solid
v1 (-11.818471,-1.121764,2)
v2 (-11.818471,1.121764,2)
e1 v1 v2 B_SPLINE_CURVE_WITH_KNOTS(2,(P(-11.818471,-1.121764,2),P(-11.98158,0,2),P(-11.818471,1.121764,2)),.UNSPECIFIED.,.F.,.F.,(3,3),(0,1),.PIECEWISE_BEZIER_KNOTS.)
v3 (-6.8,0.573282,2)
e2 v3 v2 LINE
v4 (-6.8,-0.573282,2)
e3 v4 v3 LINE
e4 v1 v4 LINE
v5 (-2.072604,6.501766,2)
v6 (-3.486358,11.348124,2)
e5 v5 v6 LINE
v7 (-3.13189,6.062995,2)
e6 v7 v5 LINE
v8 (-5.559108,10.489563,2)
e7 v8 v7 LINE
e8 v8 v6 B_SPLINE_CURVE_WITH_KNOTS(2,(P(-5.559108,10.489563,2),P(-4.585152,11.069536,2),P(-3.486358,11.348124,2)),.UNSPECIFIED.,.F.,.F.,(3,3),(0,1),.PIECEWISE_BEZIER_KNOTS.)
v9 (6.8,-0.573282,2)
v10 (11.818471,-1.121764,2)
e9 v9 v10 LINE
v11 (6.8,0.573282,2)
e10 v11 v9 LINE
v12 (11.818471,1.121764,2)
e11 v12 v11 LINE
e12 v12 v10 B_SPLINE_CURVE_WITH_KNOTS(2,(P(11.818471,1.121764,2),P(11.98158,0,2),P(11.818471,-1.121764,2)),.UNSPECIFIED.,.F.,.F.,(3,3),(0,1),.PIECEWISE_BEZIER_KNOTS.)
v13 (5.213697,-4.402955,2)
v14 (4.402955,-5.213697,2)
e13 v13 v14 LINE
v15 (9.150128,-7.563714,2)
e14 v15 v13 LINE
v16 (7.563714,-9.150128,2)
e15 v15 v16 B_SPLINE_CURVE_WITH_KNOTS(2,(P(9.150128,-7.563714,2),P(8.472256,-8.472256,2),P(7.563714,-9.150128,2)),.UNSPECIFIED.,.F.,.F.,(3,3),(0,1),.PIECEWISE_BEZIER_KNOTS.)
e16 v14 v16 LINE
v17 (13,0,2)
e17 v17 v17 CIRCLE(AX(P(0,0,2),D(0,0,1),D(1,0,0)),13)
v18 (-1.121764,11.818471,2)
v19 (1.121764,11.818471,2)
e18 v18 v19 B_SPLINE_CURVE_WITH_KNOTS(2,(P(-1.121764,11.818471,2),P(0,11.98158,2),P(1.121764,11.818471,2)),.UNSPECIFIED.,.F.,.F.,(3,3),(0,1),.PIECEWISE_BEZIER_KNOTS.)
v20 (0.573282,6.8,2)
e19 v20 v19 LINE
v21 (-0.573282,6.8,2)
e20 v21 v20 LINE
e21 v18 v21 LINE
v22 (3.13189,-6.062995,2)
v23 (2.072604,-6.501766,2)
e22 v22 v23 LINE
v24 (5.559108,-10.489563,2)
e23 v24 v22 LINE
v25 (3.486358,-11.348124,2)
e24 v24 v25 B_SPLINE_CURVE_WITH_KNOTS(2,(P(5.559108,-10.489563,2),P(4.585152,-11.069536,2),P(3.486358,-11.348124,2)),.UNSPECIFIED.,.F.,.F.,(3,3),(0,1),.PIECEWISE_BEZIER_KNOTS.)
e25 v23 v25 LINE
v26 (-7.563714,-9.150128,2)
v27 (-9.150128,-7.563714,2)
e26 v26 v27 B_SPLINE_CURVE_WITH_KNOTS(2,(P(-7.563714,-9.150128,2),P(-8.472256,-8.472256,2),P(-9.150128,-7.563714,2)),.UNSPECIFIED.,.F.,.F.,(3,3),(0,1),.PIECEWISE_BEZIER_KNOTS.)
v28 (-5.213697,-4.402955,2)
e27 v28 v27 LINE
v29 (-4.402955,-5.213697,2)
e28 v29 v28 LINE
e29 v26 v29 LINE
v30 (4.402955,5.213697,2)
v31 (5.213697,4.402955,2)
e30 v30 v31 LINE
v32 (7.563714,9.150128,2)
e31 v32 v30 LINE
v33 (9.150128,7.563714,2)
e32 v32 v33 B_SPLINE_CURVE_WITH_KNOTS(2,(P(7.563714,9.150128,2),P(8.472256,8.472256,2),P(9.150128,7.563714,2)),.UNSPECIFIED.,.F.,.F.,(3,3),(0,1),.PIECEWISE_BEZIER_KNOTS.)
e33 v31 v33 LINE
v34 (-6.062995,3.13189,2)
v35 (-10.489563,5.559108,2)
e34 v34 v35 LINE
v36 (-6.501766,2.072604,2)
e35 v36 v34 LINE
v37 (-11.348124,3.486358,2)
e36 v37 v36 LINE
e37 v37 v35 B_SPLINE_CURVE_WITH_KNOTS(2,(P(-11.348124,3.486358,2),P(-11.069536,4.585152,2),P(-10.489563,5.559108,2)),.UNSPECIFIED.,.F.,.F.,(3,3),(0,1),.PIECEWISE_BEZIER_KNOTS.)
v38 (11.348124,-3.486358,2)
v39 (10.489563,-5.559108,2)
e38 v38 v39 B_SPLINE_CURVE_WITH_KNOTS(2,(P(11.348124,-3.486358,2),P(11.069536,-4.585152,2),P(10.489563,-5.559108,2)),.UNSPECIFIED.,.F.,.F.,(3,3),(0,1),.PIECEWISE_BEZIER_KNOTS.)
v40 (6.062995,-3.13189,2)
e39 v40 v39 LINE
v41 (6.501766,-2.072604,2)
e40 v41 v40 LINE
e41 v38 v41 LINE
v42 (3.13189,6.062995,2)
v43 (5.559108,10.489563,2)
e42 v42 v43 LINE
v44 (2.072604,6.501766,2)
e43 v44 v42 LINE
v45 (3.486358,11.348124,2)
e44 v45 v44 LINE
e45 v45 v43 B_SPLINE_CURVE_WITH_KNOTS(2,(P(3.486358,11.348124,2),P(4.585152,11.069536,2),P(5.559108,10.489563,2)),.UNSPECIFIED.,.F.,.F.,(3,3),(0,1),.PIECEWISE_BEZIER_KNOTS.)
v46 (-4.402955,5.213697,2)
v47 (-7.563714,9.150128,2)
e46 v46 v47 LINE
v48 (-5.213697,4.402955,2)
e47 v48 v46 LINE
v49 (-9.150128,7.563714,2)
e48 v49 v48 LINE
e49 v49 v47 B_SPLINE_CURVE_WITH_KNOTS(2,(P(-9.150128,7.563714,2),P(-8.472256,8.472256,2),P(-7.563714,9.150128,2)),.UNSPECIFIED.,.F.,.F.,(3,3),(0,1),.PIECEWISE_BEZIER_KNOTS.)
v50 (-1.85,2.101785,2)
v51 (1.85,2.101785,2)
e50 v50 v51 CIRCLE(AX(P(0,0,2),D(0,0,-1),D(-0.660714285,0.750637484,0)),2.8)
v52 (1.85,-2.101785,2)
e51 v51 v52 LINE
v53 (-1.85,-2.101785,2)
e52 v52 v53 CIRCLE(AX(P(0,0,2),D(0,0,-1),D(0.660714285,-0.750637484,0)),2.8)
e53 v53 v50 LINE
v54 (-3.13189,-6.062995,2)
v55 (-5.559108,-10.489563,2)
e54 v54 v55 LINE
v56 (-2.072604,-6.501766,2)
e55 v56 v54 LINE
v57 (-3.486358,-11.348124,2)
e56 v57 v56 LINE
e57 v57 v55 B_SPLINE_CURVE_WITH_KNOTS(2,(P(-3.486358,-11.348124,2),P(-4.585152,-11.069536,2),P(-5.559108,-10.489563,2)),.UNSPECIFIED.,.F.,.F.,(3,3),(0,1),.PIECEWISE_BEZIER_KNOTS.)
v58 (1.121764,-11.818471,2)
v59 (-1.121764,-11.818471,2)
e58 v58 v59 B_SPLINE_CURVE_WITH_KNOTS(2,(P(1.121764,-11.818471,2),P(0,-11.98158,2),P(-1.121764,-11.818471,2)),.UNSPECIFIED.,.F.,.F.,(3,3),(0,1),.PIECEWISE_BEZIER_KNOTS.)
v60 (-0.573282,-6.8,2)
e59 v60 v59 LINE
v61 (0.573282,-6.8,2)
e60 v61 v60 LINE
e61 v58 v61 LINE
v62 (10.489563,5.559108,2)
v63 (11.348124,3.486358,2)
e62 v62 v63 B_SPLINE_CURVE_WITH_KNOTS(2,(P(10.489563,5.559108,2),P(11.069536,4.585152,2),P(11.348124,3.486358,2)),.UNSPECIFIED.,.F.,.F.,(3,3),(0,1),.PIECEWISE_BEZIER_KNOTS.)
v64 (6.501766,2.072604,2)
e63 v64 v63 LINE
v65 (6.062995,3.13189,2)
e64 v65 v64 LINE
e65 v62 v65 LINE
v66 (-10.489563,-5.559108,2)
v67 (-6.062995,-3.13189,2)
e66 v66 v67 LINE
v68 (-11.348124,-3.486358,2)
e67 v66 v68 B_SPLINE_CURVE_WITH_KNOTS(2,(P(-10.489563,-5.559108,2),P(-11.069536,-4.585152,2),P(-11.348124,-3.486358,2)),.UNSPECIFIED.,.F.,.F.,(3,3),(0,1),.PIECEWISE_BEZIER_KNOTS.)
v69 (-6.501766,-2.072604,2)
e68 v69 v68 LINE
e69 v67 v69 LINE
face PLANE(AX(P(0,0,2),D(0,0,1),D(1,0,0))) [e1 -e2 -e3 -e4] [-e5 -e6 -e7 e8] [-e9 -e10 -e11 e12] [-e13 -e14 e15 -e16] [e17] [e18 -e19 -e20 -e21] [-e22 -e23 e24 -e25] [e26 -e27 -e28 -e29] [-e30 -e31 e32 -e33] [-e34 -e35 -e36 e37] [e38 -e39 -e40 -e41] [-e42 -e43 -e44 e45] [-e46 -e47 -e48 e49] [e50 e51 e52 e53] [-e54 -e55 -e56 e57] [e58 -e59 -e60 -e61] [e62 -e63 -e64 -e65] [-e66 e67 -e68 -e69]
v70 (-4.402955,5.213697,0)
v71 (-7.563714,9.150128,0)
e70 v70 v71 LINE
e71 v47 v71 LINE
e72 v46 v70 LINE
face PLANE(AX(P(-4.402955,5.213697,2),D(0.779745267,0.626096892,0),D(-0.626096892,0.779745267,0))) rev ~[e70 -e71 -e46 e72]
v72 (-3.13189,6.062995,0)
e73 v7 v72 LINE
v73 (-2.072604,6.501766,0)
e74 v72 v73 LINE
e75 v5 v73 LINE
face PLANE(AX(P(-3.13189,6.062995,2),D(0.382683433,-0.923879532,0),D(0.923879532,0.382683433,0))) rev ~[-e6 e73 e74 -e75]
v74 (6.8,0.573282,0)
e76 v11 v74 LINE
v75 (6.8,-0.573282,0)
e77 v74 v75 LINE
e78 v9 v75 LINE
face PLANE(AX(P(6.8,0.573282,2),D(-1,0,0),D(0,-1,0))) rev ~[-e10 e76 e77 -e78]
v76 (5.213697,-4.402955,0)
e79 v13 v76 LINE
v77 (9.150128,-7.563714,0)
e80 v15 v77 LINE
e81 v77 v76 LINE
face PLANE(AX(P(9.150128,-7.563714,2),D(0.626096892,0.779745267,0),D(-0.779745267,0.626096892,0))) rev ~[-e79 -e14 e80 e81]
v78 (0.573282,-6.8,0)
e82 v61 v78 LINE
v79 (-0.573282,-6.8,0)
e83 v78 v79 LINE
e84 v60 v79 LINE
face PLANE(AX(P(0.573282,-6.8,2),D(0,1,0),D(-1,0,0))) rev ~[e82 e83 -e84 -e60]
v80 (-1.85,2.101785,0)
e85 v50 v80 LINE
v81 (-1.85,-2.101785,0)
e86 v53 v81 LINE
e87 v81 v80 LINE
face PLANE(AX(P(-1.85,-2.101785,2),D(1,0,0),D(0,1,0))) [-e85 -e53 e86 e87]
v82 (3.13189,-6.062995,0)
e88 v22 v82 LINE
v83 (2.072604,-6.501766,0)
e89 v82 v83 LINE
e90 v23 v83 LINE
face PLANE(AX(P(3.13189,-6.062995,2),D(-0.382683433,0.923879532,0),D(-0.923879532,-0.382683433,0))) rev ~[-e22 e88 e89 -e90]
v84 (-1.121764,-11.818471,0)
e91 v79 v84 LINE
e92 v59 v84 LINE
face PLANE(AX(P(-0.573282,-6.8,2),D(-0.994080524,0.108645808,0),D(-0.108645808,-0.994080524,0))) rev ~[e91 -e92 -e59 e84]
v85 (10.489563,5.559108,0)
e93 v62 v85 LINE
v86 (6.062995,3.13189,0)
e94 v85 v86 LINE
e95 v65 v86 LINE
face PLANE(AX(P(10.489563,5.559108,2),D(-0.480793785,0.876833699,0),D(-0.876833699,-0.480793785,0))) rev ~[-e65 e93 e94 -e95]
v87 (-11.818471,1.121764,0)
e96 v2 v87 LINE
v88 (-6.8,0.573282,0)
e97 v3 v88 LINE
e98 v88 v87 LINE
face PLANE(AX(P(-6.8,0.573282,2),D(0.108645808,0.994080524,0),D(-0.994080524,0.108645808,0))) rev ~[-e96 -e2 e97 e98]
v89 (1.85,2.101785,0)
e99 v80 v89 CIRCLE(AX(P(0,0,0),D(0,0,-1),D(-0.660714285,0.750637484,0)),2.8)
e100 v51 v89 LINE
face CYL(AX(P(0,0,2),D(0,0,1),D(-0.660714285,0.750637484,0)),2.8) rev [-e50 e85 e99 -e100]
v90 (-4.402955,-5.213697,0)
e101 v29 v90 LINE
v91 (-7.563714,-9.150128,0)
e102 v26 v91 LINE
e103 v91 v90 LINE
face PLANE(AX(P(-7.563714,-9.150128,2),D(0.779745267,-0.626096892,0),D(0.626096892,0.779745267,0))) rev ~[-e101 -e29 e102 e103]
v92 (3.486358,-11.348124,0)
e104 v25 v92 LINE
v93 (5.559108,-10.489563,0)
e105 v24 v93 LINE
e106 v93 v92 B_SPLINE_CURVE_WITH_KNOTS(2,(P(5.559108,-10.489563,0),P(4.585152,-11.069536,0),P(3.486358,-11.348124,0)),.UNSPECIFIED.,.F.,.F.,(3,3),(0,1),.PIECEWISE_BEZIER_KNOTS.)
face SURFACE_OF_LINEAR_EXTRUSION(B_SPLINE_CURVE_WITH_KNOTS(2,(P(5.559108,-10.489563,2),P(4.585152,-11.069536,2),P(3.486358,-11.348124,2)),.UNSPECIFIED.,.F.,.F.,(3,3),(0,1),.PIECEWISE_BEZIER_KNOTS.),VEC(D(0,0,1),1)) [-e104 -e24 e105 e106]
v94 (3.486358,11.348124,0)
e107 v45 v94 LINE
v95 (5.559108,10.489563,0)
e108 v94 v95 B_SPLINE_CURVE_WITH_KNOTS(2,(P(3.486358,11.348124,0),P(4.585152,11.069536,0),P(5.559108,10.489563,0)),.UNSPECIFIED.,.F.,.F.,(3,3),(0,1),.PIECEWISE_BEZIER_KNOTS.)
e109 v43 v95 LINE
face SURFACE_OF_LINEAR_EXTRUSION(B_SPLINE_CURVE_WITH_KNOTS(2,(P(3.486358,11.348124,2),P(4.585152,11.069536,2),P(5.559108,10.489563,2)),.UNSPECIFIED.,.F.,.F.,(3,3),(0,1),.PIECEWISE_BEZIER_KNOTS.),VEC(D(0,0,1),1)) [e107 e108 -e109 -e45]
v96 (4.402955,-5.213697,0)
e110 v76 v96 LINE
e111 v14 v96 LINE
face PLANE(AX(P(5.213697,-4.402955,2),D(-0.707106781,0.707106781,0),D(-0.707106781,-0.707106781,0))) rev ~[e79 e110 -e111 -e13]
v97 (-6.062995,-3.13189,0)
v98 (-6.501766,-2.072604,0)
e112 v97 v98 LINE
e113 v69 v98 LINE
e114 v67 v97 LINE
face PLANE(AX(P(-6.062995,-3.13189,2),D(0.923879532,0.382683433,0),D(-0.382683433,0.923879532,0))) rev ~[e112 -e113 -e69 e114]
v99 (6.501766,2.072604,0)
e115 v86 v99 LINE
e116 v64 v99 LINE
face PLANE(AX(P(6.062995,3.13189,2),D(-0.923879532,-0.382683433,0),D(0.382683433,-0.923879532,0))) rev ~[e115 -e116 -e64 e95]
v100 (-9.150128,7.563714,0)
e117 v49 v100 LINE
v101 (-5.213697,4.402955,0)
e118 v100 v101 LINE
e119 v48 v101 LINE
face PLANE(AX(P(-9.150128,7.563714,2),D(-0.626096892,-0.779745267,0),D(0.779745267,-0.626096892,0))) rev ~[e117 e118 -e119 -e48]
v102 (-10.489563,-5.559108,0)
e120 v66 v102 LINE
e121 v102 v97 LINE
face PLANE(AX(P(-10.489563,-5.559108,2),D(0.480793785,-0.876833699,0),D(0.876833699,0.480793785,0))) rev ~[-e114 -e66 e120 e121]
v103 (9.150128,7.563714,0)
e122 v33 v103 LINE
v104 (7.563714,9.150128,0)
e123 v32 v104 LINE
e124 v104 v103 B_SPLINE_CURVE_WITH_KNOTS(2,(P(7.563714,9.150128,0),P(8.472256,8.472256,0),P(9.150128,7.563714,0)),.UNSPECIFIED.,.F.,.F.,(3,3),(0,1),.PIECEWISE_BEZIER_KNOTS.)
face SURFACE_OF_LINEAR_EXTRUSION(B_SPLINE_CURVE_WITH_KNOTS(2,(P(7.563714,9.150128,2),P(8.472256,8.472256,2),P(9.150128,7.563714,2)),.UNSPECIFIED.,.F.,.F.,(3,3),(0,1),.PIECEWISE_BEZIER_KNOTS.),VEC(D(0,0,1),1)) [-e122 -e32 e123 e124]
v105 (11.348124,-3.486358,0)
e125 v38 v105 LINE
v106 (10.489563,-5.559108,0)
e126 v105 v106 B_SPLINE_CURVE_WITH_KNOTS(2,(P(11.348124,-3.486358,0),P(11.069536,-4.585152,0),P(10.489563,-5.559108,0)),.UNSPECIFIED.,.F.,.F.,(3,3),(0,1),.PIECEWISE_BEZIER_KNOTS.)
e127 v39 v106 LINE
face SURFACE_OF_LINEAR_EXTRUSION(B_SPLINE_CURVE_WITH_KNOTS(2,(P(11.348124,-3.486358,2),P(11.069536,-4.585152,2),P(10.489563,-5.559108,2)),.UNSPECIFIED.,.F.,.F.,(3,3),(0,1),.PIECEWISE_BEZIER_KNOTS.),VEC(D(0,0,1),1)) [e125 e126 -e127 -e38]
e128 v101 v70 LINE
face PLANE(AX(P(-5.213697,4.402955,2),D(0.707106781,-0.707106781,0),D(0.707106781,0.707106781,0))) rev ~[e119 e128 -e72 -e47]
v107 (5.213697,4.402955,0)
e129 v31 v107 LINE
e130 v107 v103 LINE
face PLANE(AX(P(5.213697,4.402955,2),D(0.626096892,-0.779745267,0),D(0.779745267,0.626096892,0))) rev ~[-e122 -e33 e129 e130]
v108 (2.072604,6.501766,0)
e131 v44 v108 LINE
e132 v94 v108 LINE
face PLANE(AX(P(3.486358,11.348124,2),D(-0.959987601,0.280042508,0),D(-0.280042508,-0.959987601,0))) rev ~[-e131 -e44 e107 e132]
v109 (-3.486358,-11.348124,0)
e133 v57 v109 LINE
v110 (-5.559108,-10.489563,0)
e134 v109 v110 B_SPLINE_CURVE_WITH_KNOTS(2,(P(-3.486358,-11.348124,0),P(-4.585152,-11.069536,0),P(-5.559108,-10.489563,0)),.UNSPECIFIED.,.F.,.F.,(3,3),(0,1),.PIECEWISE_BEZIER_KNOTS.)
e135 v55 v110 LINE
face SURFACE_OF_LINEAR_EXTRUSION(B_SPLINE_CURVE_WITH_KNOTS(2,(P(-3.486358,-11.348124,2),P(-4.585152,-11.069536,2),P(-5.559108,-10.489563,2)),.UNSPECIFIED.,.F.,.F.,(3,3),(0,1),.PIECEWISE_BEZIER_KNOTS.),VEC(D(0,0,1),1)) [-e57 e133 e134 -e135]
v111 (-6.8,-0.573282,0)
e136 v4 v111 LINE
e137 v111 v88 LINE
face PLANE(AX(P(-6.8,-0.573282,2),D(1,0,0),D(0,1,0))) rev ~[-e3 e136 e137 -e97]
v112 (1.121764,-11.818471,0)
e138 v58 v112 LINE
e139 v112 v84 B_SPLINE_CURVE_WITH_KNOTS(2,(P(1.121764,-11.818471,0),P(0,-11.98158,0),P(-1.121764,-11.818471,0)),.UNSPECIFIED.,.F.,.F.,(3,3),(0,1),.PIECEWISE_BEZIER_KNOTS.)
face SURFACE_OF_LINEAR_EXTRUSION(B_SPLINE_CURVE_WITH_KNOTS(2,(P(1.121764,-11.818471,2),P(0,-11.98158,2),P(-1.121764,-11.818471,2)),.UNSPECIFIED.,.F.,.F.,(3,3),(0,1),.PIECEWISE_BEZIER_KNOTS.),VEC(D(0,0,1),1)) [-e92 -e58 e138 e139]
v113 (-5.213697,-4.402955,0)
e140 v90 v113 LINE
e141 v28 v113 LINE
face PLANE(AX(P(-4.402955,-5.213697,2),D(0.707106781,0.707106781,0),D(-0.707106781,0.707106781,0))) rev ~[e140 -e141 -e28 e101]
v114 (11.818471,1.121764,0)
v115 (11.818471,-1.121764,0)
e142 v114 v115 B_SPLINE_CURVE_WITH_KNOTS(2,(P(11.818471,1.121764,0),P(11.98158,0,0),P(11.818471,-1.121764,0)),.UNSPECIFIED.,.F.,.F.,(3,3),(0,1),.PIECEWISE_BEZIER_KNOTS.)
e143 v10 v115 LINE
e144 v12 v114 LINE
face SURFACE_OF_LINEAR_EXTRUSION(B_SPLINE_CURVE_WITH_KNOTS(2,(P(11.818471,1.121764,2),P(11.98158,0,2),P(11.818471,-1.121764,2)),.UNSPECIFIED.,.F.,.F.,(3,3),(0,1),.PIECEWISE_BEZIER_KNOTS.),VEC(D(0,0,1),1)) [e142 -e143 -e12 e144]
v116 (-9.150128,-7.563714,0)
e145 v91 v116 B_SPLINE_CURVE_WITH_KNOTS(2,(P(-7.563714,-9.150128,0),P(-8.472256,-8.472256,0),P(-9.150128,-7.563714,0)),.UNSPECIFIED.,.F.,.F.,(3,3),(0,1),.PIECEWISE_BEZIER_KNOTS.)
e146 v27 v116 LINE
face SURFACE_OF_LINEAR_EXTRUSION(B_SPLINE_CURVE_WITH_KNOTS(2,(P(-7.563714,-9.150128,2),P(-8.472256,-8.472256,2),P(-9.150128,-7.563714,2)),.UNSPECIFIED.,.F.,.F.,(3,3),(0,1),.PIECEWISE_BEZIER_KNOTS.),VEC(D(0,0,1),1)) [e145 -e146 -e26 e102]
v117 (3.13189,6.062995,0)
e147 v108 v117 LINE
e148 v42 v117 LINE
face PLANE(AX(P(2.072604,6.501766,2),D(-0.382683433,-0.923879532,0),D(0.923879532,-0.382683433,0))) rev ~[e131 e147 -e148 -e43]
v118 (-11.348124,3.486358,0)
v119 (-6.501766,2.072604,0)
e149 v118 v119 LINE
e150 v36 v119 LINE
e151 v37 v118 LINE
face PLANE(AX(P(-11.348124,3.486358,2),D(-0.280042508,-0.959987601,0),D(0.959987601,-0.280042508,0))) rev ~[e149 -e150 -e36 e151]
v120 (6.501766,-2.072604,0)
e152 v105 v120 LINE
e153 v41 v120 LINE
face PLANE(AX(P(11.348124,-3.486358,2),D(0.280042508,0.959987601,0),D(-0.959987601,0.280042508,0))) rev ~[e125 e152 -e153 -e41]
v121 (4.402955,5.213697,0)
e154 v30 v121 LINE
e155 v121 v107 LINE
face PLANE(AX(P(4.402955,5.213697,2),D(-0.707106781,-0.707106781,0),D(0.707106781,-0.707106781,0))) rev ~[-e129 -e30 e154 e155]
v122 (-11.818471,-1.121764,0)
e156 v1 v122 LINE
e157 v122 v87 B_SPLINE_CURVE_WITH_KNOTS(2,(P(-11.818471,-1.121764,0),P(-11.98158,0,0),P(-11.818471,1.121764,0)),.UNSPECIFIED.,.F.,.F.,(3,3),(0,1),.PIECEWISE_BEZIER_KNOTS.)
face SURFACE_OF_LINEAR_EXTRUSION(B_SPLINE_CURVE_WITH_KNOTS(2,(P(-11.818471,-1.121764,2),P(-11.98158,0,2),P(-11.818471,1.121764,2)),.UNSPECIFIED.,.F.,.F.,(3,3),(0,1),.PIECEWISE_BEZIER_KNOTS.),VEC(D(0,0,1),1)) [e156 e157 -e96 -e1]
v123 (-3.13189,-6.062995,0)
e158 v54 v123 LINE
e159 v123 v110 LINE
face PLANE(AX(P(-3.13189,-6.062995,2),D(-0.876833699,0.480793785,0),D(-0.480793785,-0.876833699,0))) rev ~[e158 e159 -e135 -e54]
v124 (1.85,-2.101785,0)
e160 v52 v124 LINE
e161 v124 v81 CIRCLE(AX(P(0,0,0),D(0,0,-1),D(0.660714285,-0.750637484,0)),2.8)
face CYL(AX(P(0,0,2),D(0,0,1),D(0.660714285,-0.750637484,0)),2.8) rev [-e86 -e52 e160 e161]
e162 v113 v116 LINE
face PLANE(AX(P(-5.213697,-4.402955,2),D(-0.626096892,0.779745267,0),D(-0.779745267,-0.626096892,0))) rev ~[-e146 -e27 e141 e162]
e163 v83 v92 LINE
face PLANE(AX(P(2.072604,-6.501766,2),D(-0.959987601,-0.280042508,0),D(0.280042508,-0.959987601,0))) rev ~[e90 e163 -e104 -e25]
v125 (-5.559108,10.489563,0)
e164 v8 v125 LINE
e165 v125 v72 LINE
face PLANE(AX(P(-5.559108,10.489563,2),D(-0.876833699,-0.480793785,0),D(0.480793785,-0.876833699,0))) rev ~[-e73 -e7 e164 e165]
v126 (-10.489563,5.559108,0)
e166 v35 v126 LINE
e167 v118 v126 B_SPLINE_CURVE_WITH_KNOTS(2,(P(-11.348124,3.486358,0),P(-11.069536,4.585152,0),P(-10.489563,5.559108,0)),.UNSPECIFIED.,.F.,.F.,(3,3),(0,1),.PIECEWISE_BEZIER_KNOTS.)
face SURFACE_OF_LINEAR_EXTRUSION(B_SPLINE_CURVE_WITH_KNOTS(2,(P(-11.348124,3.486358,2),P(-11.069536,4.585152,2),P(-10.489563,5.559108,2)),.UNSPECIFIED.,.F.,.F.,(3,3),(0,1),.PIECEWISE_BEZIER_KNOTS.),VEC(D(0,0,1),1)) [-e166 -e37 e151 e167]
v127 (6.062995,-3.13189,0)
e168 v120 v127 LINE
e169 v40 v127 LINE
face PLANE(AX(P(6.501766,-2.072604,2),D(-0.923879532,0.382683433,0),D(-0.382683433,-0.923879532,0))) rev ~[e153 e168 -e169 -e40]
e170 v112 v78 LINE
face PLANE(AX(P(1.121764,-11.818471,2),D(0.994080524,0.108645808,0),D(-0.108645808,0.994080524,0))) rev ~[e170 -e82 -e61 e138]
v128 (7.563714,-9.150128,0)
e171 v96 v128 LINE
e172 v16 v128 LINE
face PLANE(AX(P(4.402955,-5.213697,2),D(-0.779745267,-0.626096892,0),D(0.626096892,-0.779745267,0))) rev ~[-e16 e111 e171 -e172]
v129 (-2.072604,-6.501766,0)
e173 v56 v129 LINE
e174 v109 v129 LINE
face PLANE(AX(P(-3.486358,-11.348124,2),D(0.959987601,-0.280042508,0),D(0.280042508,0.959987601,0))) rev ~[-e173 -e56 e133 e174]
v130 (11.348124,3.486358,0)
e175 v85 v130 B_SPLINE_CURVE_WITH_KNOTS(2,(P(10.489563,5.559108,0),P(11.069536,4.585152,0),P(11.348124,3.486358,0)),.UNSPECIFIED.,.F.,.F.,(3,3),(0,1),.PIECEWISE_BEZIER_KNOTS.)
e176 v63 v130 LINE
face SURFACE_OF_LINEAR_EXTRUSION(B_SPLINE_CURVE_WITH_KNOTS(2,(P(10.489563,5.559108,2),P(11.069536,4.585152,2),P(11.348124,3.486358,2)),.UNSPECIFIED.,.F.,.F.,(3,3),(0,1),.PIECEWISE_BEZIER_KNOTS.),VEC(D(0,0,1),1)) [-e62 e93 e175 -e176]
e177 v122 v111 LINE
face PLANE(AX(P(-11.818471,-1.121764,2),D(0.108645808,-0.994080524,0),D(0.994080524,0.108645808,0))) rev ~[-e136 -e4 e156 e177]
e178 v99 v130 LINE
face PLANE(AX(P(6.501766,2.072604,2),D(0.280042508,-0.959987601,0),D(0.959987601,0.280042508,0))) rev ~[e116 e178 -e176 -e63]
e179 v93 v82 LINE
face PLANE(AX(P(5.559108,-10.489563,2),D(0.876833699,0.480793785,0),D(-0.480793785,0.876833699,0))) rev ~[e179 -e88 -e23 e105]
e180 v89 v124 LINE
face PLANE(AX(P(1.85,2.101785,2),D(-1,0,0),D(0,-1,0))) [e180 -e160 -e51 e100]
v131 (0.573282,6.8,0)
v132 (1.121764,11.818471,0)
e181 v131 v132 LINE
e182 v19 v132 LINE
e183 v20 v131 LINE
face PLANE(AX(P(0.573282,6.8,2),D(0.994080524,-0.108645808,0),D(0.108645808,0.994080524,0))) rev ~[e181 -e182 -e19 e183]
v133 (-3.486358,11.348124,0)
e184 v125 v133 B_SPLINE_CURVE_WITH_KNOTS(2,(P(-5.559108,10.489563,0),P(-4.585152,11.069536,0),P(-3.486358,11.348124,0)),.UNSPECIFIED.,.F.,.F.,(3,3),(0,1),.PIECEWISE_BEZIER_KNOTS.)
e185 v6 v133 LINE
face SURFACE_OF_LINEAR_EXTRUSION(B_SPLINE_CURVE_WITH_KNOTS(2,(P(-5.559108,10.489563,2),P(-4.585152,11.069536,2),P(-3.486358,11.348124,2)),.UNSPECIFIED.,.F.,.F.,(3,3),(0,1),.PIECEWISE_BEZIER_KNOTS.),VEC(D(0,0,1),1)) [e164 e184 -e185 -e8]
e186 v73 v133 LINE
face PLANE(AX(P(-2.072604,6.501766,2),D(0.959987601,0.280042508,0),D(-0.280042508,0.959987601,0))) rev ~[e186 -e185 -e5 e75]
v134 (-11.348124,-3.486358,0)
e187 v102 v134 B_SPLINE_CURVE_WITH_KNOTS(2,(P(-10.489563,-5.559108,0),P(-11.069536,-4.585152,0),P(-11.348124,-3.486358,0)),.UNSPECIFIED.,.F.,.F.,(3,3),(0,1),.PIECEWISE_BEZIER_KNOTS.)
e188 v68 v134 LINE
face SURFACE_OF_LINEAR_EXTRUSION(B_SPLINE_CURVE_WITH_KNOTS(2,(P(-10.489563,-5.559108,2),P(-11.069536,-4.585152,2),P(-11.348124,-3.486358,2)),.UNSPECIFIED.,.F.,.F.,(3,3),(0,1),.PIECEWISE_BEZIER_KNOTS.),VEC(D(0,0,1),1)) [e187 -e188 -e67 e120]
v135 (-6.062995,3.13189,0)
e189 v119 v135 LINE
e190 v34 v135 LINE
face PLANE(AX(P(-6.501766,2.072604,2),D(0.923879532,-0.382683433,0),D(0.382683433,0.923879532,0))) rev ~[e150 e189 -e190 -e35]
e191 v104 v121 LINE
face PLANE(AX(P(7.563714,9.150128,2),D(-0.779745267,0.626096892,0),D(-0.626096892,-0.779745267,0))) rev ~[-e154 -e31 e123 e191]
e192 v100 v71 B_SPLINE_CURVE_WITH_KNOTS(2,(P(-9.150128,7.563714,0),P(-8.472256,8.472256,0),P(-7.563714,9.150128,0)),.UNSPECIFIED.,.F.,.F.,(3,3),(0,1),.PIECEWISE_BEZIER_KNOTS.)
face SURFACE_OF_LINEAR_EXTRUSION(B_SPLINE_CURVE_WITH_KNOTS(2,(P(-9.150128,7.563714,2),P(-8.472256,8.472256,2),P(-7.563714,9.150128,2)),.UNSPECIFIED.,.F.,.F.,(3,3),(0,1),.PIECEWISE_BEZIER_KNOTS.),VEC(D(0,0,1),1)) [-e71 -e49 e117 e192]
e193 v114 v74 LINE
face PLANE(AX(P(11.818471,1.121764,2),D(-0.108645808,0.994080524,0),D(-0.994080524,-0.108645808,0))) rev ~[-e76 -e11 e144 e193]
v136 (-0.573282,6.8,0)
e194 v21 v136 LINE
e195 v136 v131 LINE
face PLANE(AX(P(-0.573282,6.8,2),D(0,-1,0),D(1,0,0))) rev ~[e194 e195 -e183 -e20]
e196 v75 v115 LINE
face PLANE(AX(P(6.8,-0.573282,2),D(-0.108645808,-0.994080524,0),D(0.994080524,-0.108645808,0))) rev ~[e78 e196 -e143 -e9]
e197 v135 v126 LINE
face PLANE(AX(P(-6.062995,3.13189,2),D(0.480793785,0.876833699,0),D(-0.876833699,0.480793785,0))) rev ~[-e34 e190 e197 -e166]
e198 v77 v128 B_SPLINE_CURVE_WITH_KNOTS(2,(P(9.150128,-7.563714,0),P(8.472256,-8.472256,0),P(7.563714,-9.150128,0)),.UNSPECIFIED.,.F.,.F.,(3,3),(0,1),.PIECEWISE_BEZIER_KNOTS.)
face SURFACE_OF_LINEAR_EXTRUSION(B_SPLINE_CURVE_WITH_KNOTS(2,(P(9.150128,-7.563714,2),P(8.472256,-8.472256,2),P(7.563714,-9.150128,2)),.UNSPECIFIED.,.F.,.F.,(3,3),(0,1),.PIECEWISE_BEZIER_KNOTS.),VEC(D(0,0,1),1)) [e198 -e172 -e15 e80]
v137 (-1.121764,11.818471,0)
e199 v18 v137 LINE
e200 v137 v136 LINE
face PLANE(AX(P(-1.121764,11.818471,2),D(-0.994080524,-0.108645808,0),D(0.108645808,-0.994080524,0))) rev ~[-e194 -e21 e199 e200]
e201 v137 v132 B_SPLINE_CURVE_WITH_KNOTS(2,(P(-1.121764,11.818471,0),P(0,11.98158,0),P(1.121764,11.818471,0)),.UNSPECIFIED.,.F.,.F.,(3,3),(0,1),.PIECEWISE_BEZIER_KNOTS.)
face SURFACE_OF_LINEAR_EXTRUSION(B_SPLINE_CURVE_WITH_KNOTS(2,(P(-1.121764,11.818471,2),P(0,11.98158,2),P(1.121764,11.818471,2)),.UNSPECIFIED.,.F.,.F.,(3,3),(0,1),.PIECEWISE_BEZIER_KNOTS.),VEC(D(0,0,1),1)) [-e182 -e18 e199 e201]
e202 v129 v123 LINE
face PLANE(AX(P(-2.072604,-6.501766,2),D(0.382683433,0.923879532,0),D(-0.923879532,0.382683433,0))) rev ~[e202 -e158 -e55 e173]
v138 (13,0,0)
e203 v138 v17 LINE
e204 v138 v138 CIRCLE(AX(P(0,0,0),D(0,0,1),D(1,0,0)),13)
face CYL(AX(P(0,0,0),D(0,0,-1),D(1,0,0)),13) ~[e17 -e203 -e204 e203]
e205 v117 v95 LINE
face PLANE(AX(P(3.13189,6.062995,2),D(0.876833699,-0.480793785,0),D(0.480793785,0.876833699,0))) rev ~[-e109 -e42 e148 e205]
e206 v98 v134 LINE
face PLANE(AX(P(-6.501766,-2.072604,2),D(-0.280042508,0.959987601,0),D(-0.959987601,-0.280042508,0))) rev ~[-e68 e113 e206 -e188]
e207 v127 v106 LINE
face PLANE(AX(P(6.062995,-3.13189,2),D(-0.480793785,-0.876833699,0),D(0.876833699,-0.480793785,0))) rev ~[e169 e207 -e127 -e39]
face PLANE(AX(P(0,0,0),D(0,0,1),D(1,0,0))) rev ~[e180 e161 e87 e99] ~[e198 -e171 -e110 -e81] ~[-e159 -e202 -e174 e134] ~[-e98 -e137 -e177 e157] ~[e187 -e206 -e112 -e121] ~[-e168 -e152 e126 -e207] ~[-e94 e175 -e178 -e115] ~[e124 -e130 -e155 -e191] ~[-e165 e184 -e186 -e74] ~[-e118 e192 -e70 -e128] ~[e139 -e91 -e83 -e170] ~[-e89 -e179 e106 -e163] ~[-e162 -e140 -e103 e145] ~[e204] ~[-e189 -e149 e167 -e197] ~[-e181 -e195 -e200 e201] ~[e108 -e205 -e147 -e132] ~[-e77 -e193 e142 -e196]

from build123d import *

# Parameters (mm, degrees)
SKETCH1_R           = 13
BOSS_EXTRUDE1_DEPTH = 2
CUT_EXTRUDE1_DEPTH  = 2
CUT_EXTRUDE2_DEPTH  = 2


with BuildPart() as part:
    # Sketch1 → Boss-Extrude1 (new body)
    with BuildSketch(Plane.XY):
        Circle(SKETCH1_R)
    extrude(amount=BOSS_EXTRUDE1_DEPTH)

    # Sketch2 → Cut-Extrude1 (cut)
    with BuildSketch(Plane.XY.offset(2)):
        with BuildLine():
            Line((1.85, 2.101784956), (1.85, -2.101784956))
            ThreePointArc((1.85, -2.101784956), (0, -2.8), (-1.85, -2.101784956))
            Line((-1.85, -2.101784956), (-1.85, 2.101784956))
            ThreePointArc((-1.85, 2.101784956), (0, 2.8), (1.85, 2.101784956))
        make_face()
    extrude(amount=-CUT_EXTRUDE1_DEPTH, mode=Mode.SUBTRACT)

    # Sketch3 → Cut-Extrude2 (cut)
    with BuildSketch(Plane.XY.offset(2)):
        with BuildLine():
            Line((-0.57328151, 6.8), (0.57328151, 6.8))
            Line((0.57328151, 6.8), (1.12176411, 11.818471303))
            add(Edge.make_bspline(
                [(-1.12176411, 11.818471303), (0, 11.981579841), (1.12176411, 11.818471303)],
                knots=[0, 0, 0, 1, 1, 1], degree=2))
            Line((-1.12176411, 11.818471303), (-0.57328151, 6.8))
        make_face()
        with BuildLine():
            Line((3.131890393, 6.062995485), (5.559108065, 10.489563203))
            add(Edge.make_bspline(
                [(3.486358262, 11.348124283), (4.585152099, 11.069536382), (5.559108065, 10.489563203)],
                knots=[0, 0, 0, 1, 1, 1], degree=2))
            Line((3.486358262, 11.348124283), (2.072604287, 6.501766157))
            Line((2.072604287, 6.501766157), (3.131890393, 6.062995485))
        make_face()
        with BuildLine():
            Line((5.213697355, 4.402954869), (9.150128211, 7.563714193))
            add(Edge.make_bspline(
                [(7.563714193, 9.150128211), (8.472256355, 8.472256355), (9.150128211, 7.563714193)],
                knots=[0, 0, 0, 1, 1, 1], degree=2))
            Line((7.563714193, 9.150128211), (4.402954869, 5.213697355))
            Line((4.402954869, 5.213697355), (5.213697355, 4.402954869))
        make_face()
        with BuildLine():
            Line((6.501766157, 2.072604287), (11.348124283, 3.486358262))
            add(Edge.make_bspline(
                [(10.489563203, 5.559108065), (11.069536382, 4.585152099), (11.348124283, 3.486358262)],
                knots=[0, 0, 0, 1, 1, 1], degree=2))
            Line((10.489563203, 5.559108065), (6.062995485, 3.131890393))
            Line((6.062995485, 3.131890393), (6.501766157, 2.072604287))
        make_face()
        with BuildLine():
            Line((6.8, -0.57328151), (11.818471303, -1.12176411))
            add(Edge.make_bspline(
                [(11.818471303, 1.12176411), (11.981579841, 0), (11.818471303, -1.12176411)],
                knots=[0, 0, 0, 1, 1, 1], degree=2))
            Line((11.818471303, 1.12176411), (6.8, 0.57328151))
            Line((6.8, 0.57328151), (6.8, -0.57328151))
        make_face()
        with BuildLine():
            Line((6.062995485, -3.131890393), (10.489563203, -5.559108065))
            add(Edge.make_bspline(
                [(11.348124283, -3.486358262), (11.069536382, -4.585152099), (10.489563203, -5.559108065)],
                knots=[0, 0, 0, 1, 1, 1], degree=2))
            Line((11.348124283, -3.486358262), (6.501766157, -2.072604287))
            Line((6.501766157, -2.072604287), (6.062995485, -3.131890393))
        make_face()
        with BuildLine():
            Line((4.402954869, -5.213697355), (7.563714193, -9.150128211))
            add(Edge.make_bspline(
                [(9.150128211, -7.563714193), (8.472256355, -8.472256355), (7.563714193, -9.150128211)],
                knots=[0, 0, 0, 1, 1, 1], degree=2))
            Line((9.150128211, -7.563714193), (5.213697355, -4.402954869))
            Line((5.213697355, -4.402954869), (4.402954869, -5.213697355))
        make_face()
        with BuildLine():
            Line((2.072604287, -6.501766157), (3.486358262, -11.348124283))
            add(Edge.make_bspline(
                [(5.559108065, -10.489563203), (4.585152099, -11.069536382), (3.486358262, -11.348124283)],
                knots=[0, 0, 0, 1, 1, 1], degree=2))
            Line((5.559108065, -10.489563203), (3.131890393, -6.062995485))
            Line((3.131890393, -6.062995485), (2.072604287, -6.501766157))
        make_face()
        with BuildLine():
            Line((-0.57328151, -6.8), (-1.12176411, -11.818471303))
            add(Edge.make_bspline(
                [(1.12176411, -11.818471303), (0, -11.981579841), (-1.12176411, -11.818471303)],
                knots=[0, 0, 0, 1, 1, 1], degree=2))
            Line((1.12176411, -11.818471303), (0.57328151, -6.8))
            Line((0.57328151, -6.8), (-0.57328151, -6.8))
        make_face()
        with BuildLine():
            Line((-3.131890393, -6.062995485), (-5.559108065, -10.489563203))
            add(Edge.make_bspline(
                [(-3.486358262, -11.348124283), (-4.585152099, -11.069536382), (-5.559108065, -10.489563203)],
                knots=[0, 0, 0, 1, 1, 1], degree=2))
            Line((-3.486358262, -11.348124283), (-2.072604287, -6.501766157))
            Line((-2.072604287, -6.501766157), (-3.131890393, -6.062995485))
        make_face()
        with BuildLine():
            Line((-5.213697355, -4.402954869), (-9.150128211, -7.563714193))
            add(Edge.make_bspline(
                [(-7.563714193, -9.150128211), (-8.472256355, -8.472256355), (-9.150128211, -7.563714193)],
                knots=[0, 0, 0, 1, 1, 1], degree=2))
            Line((-7.563714193, -9.150128211), (-4.402954869, -5.213697355))
            Line((-4.402954869, -5.213697355), (-5.213697355, -4.402954869))
        make_face()
        with BuildLine():
            Line((-6.501766157, -2.072604287), (-11.348124283, -3.486358262))
            add(Edge.make_bspline(
                [(-10.489563203, -5.559108065), (-11.069536382, -4.585152099), (-11.348124283, -3.486358262)],
                knots=[0, 0, 0, 1, 1, 1], degree=2))
            Line((-10.489563203, -5.559108065), (-6.062995485, -3.131890393))
            Line((-6.062995485, -3.131890393), (-6.501766157, -2.072604287))
        make_face()
        with BuildLine():
            Line((-6.8, 0.57328151), (-11.818471303, 1.12176411))
            add(Edge.make_bspline(
                [(-11.818471303, -1.12176411), (-11.981579841, 0), (-11.818471303, 1.12176411)],
                knots=[0, 0, 0, 1, 1, 1], degree=2))
            Line((-11.818471303, -1.12176411), (-6.8, -0.57328151))
            Line((-6.8, -0.57328151), (-6.8, 0.57328151))
        make_face()
        with BuildLine():
            Line((-6.062995485, 3.131890393), (-10.489563203, 5.559108065))
            add(Edge.make_bspline(
                [(-11.348124283, 3.486358262), (-11.069536382, 4.585152099), (-10.489563203, 5.559108065)],
                knots=[0, 0, 0, 1, 1, 1], degree=2))
            Line((-11.348124283, 3.486358262), (-6.501766157, 2.072604287))
            Line((-6.501766157, 2.072604287), (-6.062995485, 3.131890393))
        make_face()
        with BuildLine():
            Line((-4.402954869, 5.213697355), (-7.563714193, 9.150128211))
            add(Edge.make_bspline(
                [(-9.150128211, 7.563714193), (-8.472256355, 8.472256355), (-7.563714193, 9.150128211)],
                knots=[0, 0, 0, 1, 1, 1], degree=2))
            Line((-9.150128211, 7.563714193), (-5.213697355, 4.402954869))
            Line((-5.213697355, 4.402954869), (-4.402954869, 5.213697355))
        make_face()
        with BuildLine():
            Line((-2.072604287, 6.501766157), (-3.486358262, 11.348124283))
            add(Edge.make_bspline(
                [(-5.559108065, 10.489563203), (-4.585152099, 11.069536382), (-3.486358262, 11.348124283)],
                knots=[0, 0, 0, 1, 1, 1], degree=2))
            Line((-5.559108065, 10.489563203), (-3.131890393, 6.062995485))
            Line((-3.131890393, 6.062995485), (-2.072604287, 6.501766157))
        make_face()
    extrude(amount=-CUT_EXTRUDE2_DEPTH, mode=Mode.SUBTRACT)


solid = part.part
